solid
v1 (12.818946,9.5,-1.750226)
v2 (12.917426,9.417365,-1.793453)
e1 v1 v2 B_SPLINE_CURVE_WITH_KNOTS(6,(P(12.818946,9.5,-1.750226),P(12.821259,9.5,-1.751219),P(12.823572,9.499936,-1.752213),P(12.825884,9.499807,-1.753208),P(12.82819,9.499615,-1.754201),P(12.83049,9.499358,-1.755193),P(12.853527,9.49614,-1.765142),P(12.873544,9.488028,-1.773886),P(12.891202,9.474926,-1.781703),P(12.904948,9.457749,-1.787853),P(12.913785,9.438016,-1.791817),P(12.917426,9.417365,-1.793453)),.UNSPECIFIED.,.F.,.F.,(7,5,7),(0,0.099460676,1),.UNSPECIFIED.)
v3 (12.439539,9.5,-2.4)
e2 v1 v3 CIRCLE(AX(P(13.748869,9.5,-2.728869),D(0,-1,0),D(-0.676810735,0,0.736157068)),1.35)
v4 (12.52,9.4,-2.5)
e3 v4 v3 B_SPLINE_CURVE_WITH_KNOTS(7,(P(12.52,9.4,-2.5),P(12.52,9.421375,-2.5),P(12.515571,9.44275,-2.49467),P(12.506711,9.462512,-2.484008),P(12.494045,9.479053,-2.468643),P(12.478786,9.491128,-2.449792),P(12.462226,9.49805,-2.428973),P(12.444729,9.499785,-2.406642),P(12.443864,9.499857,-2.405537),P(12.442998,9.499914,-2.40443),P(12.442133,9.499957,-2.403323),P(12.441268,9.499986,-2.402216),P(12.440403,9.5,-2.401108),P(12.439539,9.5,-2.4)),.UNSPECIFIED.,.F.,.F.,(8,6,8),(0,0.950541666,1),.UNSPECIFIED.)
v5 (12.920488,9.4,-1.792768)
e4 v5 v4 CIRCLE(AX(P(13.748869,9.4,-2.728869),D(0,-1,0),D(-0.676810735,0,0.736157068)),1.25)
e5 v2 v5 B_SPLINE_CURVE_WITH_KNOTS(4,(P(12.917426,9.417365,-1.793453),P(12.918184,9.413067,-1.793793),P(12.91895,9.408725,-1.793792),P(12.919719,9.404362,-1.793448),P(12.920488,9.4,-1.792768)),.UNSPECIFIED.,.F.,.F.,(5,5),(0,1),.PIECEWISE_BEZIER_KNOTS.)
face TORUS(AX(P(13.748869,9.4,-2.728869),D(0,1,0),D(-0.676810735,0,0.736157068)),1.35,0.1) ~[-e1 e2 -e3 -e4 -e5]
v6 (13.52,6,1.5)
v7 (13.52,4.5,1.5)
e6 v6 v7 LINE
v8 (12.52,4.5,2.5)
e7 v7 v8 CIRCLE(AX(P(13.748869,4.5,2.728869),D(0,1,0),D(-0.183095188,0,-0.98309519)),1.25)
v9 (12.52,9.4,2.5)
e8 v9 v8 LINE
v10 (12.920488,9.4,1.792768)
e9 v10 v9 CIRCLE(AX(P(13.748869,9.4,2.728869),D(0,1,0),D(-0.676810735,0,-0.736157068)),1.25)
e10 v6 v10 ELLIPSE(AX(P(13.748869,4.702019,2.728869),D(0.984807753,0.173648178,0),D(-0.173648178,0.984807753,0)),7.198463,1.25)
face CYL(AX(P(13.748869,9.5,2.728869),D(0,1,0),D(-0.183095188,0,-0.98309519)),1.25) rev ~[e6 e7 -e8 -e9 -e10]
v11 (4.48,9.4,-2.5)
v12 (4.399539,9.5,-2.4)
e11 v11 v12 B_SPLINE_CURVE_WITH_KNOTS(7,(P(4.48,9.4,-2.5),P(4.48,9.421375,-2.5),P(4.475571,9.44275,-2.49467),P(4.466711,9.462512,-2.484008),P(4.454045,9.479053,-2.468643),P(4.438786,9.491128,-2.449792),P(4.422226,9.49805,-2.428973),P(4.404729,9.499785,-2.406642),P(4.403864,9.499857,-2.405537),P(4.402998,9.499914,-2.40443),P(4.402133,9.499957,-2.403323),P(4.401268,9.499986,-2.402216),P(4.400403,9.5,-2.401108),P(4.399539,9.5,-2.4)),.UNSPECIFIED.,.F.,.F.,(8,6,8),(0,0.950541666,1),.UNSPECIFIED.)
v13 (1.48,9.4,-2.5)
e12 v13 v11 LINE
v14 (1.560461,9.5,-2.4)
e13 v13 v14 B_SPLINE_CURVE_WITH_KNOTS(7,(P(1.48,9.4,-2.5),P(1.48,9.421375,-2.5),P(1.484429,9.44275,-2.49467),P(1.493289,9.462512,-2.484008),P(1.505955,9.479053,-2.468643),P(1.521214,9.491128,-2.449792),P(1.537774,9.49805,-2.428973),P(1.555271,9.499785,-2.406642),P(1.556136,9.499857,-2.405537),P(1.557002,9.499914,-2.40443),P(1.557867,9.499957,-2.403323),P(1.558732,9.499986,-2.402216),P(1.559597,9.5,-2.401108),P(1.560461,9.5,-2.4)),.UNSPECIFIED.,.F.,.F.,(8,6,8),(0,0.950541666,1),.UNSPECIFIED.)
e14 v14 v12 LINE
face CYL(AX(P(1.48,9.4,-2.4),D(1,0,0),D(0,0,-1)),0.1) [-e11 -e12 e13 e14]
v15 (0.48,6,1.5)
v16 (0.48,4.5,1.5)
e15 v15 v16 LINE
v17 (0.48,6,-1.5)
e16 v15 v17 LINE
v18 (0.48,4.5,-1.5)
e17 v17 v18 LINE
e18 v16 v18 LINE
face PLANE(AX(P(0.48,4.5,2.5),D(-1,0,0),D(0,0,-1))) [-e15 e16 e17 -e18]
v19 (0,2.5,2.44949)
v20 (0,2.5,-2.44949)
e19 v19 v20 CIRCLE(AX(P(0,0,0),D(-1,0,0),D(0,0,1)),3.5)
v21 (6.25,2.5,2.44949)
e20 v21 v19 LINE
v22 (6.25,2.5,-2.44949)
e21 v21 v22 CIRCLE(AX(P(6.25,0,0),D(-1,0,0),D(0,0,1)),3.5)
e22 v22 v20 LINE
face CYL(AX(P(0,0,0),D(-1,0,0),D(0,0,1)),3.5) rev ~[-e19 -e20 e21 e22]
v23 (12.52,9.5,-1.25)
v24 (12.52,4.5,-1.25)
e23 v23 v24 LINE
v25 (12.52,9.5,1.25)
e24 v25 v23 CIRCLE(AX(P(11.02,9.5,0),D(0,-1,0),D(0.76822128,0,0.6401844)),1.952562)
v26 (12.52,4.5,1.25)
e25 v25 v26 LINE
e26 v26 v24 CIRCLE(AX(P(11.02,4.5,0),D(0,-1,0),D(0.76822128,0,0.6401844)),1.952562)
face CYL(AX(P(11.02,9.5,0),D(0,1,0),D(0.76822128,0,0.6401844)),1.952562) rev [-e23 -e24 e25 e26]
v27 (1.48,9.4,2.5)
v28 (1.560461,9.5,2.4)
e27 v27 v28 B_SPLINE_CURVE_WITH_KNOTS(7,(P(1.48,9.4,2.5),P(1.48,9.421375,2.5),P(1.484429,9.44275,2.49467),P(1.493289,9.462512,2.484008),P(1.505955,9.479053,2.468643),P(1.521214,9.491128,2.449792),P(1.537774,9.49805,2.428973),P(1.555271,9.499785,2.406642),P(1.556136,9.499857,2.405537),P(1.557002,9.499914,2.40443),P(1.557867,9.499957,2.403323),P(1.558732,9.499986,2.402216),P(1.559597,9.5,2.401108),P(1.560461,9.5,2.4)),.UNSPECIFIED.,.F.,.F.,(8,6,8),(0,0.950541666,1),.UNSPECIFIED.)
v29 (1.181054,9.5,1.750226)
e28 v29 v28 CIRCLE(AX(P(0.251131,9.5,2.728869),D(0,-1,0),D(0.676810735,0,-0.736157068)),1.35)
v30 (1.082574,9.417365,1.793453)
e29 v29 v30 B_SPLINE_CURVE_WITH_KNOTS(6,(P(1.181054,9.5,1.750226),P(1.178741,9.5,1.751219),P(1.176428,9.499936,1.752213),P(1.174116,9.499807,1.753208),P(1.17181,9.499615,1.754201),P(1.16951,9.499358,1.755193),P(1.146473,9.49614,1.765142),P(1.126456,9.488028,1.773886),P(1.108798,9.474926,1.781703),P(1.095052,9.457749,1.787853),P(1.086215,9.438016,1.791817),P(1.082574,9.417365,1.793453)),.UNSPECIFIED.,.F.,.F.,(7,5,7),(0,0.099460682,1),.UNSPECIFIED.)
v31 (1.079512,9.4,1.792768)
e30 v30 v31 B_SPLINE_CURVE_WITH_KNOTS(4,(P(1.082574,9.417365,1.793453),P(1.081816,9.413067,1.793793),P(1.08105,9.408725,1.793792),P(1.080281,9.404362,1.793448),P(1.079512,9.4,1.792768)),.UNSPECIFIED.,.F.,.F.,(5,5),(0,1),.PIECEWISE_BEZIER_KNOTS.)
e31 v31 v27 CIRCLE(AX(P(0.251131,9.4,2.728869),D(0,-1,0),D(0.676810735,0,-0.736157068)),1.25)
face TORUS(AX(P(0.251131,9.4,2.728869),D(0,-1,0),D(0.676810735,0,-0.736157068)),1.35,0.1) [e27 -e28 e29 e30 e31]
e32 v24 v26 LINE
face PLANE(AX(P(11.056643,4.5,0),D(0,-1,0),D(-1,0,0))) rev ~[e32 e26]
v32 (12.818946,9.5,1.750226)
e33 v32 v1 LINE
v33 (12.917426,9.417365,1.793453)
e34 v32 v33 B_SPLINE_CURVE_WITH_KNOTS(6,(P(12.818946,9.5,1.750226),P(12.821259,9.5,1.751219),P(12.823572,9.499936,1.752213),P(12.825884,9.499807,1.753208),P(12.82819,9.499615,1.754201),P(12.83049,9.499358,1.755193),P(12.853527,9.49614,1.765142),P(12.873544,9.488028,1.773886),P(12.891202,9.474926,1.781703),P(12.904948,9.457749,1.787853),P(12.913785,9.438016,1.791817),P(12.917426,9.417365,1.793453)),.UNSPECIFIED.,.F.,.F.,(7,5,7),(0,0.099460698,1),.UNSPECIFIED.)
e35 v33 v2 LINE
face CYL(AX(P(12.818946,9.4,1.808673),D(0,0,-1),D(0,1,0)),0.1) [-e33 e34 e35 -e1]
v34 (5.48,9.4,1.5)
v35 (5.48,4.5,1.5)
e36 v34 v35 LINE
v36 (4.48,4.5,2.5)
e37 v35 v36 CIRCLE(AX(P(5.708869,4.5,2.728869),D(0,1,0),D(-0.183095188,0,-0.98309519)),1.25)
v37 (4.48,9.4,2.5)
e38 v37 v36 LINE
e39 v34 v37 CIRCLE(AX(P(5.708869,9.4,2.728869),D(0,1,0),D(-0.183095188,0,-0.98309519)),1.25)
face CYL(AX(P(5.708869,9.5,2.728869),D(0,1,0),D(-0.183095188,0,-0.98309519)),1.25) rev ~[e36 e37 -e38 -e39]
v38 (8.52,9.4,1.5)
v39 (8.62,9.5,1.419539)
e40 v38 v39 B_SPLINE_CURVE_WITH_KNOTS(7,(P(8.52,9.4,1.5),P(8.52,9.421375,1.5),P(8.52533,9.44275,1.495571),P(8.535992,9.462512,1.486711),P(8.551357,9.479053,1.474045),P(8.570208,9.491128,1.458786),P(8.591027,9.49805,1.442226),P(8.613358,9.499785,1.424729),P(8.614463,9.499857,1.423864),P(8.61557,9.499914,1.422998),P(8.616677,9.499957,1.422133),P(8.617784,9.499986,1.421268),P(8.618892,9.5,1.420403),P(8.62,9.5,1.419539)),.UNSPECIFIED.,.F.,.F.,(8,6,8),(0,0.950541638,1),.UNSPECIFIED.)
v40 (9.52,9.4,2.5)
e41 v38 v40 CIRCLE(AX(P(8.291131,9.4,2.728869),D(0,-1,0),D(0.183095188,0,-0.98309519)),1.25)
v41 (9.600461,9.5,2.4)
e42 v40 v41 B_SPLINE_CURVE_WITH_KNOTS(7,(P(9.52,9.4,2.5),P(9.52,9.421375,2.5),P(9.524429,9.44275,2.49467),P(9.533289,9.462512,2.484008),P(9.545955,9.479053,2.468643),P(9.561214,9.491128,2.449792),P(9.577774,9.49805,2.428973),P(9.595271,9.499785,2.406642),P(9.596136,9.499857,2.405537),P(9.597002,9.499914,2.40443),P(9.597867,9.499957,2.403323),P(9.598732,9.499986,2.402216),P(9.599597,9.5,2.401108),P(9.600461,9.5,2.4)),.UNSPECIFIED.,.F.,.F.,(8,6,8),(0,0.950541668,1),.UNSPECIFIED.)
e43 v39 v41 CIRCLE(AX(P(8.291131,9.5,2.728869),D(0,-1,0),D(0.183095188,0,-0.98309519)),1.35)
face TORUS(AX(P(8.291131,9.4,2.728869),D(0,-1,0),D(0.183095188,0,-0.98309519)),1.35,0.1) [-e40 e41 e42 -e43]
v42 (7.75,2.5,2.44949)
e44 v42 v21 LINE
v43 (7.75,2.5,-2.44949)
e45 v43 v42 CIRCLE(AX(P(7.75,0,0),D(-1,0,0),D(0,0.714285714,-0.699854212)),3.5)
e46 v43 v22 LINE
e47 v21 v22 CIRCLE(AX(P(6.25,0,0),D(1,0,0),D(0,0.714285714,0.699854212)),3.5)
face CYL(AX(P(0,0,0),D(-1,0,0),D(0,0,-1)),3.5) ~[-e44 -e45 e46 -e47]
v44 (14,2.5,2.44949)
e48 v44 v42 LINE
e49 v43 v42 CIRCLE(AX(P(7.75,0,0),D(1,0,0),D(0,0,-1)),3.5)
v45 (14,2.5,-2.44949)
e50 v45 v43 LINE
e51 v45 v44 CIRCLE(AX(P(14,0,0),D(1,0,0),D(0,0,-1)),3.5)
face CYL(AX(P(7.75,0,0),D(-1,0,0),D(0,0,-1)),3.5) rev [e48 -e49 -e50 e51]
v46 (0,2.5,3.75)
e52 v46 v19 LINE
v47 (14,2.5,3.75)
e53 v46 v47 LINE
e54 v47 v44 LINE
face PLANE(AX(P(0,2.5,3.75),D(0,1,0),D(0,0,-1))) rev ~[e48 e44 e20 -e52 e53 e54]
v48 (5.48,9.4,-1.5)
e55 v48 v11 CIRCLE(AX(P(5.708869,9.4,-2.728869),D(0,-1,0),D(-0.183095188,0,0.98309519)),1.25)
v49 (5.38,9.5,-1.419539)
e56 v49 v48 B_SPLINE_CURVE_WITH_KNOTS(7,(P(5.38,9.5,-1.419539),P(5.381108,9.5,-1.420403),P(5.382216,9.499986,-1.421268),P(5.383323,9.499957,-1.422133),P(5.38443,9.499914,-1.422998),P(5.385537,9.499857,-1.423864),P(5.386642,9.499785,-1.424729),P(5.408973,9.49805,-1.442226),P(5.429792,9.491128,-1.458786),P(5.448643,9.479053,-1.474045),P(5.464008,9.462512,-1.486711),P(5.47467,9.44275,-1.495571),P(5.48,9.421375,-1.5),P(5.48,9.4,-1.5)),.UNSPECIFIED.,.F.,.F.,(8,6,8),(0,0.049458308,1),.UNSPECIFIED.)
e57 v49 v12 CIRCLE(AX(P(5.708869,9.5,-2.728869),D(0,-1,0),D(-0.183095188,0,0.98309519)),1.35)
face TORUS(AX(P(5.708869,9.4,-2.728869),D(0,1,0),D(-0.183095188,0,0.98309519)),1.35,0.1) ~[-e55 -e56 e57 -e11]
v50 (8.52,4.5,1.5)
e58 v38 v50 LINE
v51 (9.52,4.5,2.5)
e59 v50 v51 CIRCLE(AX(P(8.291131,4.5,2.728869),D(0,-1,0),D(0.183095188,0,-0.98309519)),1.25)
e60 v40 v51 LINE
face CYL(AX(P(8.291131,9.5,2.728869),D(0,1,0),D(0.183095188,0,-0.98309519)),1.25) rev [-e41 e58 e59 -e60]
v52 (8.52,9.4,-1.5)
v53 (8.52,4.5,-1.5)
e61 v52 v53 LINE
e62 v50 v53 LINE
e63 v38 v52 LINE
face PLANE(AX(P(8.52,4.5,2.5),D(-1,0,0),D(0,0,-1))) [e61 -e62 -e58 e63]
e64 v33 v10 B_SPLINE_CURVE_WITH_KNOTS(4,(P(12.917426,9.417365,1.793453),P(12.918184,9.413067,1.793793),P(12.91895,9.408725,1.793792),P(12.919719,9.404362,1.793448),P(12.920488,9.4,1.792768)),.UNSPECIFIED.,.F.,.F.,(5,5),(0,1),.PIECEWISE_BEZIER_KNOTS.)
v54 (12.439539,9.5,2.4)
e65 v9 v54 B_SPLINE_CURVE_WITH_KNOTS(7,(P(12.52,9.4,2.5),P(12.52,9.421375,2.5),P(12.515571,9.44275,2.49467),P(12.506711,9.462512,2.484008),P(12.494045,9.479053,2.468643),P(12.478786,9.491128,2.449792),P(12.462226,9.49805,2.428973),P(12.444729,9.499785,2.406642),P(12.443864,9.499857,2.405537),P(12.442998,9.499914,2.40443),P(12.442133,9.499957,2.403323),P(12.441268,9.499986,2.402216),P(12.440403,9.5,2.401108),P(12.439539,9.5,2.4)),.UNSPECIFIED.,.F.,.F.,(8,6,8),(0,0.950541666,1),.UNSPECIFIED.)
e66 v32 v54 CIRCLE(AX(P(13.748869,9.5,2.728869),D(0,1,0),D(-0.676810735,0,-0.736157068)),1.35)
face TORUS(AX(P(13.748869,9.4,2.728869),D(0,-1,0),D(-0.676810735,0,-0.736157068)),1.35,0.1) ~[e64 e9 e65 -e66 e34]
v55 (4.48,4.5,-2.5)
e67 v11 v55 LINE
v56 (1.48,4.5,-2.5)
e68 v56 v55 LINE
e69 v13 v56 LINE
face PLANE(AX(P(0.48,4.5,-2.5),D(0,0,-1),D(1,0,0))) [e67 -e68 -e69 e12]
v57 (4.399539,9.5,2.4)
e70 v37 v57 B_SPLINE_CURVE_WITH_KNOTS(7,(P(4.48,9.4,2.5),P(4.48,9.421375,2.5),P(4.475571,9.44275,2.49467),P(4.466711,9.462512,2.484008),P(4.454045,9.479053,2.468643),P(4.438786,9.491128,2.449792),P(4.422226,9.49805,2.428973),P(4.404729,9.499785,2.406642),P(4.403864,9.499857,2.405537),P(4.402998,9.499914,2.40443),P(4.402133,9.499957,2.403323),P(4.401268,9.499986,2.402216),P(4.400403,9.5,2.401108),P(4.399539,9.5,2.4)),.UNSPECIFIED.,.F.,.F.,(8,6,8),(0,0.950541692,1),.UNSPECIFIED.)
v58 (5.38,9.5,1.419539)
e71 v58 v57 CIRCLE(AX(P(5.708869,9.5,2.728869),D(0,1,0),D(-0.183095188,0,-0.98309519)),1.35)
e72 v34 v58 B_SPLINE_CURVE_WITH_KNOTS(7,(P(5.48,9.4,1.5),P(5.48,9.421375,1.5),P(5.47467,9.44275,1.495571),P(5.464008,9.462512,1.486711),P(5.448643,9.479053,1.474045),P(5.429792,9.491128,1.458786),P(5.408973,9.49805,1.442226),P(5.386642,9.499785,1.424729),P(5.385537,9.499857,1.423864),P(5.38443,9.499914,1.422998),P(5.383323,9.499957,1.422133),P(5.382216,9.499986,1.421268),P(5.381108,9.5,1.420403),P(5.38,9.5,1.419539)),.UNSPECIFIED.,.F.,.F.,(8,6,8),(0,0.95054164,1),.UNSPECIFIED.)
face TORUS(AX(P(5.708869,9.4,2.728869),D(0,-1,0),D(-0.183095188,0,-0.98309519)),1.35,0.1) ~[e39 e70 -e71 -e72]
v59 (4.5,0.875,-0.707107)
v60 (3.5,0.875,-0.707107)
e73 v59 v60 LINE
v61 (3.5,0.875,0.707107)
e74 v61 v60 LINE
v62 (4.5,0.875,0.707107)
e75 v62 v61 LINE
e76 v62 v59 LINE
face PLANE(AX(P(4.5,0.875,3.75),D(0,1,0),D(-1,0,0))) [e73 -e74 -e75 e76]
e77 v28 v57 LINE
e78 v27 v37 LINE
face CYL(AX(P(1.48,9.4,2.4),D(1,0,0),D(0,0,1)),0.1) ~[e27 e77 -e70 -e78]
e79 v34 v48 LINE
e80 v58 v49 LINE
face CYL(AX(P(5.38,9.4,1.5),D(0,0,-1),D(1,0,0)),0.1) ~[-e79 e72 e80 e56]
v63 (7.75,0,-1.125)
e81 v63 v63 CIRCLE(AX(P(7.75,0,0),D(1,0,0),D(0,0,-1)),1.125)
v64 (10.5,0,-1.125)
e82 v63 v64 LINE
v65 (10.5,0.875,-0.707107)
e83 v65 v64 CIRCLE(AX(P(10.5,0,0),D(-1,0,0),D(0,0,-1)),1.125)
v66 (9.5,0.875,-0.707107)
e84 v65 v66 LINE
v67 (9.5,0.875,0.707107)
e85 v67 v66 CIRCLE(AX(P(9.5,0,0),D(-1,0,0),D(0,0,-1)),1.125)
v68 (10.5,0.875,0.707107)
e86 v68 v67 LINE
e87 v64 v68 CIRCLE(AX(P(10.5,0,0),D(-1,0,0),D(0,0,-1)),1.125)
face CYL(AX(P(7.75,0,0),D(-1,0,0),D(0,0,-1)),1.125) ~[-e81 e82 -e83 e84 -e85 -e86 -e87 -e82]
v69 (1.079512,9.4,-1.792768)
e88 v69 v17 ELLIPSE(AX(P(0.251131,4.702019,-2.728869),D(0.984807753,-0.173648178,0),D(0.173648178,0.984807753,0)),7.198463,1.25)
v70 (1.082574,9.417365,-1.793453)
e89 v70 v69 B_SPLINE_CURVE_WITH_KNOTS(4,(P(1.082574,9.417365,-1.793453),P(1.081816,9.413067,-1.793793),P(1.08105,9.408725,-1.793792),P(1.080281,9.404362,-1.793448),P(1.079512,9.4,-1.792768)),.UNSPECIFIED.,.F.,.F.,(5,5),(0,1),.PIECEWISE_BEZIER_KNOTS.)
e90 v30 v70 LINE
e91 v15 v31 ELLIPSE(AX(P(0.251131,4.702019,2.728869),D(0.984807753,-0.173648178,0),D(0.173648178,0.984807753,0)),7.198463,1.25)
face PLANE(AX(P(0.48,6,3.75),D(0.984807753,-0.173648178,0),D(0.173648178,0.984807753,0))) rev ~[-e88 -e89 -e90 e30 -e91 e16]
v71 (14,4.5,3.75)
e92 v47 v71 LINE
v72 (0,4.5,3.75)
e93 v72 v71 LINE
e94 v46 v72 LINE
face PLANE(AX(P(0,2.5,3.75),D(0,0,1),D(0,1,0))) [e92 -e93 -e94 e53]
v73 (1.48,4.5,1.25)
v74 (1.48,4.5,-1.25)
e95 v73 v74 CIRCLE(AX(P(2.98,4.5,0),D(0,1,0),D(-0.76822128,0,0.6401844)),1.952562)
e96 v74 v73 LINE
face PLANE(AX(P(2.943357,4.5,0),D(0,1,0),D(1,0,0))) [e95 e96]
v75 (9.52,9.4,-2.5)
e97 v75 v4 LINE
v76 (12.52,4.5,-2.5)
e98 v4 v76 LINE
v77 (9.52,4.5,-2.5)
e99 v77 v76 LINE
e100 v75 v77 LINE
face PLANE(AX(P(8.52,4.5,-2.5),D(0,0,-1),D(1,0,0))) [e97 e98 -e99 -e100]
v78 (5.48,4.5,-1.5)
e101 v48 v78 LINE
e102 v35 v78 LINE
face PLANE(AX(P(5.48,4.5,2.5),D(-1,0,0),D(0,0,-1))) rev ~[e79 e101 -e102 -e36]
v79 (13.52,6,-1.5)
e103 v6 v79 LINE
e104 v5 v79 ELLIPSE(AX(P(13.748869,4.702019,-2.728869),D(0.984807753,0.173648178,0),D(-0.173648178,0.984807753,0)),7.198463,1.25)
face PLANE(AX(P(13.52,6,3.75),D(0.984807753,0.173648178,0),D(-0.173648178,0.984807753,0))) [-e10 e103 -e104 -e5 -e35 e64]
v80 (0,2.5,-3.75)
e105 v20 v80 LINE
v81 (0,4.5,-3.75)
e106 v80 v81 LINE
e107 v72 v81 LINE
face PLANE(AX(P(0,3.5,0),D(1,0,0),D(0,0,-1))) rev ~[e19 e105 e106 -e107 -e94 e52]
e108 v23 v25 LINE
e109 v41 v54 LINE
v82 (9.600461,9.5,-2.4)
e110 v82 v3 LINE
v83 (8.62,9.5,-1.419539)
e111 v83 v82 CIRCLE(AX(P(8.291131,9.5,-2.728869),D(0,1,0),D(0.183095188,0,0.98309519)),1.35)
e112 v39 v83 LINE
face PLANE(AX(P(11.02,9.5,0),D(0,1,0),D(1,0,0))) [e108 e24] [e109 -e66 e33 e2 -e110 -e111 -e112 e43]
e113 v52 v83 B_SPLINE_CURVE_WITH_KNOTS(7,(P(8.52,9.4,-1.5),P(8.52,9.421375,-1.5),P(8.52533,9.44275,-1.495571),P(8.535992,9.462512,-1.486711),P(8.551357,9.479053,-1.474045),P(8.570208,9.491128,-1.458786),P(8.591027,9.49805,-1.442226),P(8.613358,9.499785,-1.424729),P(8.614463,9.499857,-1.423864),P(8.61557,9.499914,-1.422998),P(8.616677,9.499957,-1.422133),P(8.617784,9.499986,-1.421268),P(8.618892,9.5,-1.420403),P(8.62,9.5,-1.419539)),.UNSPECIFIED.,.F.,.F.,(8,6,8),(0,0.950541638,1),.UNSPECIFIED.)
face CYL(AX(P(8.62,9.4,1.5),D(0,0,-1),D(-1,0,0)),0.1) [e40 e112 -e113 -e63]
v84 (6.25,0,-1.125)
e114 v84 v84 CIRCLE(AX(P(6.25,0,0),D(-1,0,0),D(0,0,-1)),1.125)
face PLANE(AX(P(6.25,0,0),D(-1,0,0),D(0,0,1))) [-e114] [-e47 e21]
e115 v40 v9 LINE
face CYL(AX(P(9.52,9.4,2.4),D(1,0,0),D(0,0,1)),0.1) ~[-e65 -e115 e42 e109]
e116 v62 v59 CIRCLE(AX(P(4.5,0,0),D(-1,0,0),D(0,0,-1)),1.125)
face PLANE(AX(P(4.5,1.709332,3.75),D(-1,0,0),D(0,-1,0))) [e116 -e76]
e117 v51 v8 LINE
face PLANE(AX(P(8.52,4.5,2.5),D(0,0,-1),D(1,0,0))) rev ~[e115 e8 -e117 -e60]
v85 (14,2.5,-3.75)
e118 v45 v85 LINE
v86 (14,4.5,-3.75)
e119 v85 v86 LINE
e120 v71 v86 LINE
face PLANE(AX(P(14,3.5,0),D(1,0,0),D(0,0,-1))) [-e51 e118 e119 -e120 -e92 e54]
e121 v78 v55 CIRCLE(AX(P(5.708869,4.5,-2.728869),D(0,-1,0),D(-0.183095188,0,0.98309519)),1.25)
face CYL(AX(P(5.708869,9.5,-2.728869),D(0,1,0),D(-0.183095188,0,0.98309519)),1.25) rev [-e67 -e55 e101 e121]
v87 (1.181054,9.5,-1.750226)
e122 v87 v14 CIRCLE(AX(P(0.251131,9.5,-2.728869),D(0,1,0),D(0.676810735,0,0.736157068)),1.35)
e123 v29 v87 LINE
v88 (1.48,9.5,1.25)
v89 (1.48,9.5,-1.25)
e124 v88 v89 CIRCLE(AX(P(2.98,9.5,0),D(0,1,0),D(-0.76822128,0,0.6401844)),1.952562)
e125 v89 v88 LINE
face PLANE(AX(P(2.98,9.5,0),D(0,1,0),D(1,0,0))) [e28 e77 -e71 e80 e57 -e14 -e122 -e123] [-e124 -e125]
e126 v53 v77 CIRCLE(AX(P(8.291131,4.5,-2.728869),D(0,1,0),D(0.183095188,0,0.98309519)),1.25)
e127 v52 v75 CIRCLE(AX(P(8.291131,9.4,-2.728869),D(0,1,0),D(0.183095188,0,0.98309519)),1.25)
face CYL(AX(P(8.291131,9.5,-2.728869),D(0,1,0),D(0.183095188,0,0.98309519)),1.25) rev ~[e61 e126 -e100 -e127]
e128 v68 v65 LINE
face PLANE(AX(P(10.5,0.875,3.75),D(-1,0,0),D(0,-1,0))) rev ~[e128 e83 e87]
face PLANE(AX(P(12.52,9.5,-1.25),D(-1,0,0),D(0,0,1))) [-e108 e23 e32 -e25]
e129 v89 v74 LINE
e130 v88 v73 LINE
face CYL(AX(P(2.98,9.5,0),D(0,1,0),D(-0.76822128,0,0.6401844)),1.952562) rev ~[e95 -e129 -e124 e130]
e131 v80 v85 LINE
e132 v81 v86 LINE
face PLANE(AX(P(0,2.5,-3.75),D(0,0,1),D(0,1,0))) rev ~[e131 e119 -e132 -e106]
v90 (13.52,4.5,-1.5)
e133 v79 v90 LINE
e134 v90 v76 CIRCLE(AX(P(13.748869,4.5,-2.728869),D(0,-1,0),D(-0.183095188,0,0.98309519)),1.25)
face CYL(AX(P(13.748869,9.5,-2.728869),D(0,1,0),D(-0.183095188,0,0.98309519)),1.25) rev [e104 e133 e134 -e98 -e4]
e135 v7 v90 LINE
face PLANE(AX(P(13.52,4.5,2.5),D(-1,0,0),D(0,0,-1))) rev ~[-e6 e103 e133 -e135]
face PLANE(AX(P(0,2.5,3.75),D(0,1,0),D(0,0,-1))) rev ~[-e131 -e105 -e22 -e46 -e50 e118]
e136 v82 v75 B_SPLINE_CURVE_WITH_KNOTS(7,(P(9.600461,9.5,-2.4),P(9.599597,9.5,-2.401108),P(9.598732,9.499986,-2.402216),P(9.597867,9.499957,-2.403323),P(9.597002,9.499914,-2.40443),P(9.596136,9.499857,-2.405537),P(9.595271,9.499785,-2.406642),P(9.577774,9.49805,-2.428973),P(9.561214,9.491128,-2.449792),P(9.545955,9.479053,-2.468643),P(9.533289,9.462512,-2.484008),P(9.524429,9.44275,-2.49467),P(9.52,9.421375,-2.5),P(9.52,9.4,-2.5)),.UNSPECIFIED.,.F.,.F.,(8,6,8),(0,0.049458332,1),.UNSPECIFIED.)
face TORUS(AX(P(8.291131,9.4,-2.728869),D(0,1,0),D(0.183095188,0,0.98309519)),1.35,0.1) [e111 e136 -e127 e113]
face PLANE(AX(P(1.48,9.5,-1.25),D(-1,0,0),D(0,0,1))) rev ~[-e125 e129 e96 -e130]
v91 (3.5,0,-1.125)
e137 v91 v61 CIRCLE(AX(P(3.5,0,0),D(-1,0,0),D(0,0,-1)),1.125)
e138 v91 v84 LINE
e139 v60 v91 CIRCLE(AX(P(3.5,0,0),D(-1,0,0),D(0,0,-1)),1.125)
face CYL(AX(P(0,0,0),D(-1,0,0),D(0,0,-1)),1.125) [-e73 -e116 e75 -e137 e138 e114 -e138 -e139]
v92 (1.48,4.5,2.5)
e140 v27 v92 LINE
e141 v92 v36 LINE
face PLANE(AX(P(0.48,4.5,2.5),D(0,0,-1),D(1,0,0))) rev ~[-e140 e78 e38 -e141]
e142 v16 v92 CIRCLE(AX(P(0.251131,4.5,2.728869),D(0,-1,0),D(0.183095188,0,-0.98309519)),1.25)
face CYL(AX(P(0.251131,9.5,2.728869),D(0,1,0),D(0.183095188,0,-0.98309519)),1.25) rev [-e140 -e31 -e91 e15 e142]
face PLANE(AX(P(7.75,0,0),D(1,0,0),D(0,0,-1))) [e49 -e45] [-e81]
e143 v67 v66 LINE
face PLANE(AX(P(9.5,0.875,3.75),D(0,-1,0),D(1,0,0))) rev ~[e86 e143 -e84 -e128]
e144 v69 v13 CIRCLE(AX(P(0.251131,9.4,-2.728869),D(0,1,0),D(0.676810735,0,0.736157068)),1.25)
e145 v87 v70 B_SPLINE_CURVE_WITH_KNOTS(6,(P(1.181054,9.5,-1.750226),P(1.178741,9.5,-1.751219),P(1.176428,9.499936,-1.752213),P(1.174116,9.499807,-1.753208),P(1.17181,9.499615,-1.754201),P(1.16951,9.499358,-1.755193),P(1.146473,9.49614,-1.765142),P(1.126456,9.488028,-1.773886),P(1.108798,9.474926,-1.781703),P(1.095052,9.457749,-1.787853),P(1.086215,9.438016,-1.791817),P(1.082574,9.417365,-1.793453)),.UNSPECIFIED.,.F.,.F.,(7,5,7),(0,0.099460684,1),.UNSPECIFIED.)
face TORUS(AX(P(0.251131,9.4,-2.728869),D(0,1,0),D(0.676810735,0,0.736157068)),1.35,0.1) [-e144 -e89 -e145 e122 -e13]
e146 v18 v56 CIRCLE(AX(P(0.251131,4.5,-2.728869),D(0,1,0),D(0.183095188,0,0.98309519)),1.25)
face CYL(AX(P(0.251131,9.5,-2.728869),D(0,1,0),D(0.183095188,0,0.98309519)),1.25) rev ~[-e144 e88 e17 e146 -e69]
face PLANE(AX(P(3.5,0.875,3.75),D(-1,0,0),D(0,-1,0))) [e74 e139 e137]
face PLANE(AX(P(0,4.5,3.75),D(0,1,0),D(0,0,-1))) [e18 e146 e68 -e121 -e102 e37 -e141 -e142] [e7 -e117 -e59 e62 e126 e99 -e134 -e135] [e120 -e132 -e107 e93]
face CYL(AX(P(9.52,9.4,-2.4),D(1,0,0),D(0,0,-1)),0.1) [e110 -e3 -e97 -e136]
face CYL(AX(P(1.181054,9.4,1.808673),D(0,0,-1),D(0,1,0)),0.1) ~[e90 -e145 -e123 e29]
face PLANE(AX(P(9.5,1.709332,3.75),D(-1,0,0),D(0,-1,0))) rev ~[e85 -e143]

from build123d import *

# Parameters (mm, degrees)
SKETCH1_R           = 3.5
BOSS_EXTRUDE1_DEPTH = 14
SKETCH2_W           = 7.5
SKETCH2_H           = 2
BOSS_EXTRUDE2_DEPTH = 14
CUT_EXTRUDE1_START  = -6.25
SKETCH4_R           = 3.5
SKETCH4_R_2         = 1.125
CUT_EXTRUDE1_DEPTH  = 6.25
SKETCH5_R           = 3.5
SKETCH5_R_2         = 1.125
CUT_EXTRUDE2_DEPTH  = 6.25
CUT_EXTRUDE3_DEPTH  = 17.507574019
SKETCH7_W           = 5
SKETCH7_H           = 5
BOSS_EXTRUDE3_DEPTH = 5
CUT_EXTRUDE4_DEPTH  = 19.506755523
CUT_EXTRUDE5_DEPTH  = 5
FILLET1_R           = 0.1
CUT_EXTRUDE6_DEPTH  = 5


with BuildPart() as part:
    # Sketch1 → Boss-Extrude1 (new body)
    with BuildSketch(Plane(origin=(0, 0, 0), x_dir=(0, 0, -1), z_dir=(1, 0, 0))):
        Circle(SKETCH1_R)
    extrude(amount=BOSS_EXTRUDE1_DEPTH)

    # Sketch2 → Boss-Extrude2 (add)
    with BuildSketch(Plane(origin=(0, 0, 0), x_dir=(0, 0, -1), z_dir=(1, 0, 0))):
        with Locations((0, 3.5)):
            Rectangle(SKETCH2_W, SKETCH2_H)
    extrude(amount=BOSS_EXTRUDE2_DEPTH)

    # Sketch4 → Cut-Extrude1 (cut)
    with BuildSketch(Plane(origin=(14, 0, 0), x_dir=(0, 0, -1), z_dir=(1, 0, 0)).offset(CUT_EXTRUDE1_START)):
        Circle(SKETCH4_R)
        Circle(SKETCH4_R_2, mode=Mode.SUBTRACT)
    extrude(amount=CUT_EXTRUDE1_DEPTH, mode=Mode.SUBTRACT)

    # Sketch5 → Cut-Extrude2 (cut)
    with BuildSketch(Plane.ZY):
        Circle(SKETCH5_R)
        with Locations(Location((0, 0, 0), (0, 0, 180))):
            Circle(SKETCH5_R_2, mode=Mode.SUBTRACT)
    extrude(amount=-CUT_EXTRUDE2_DEPTH, mode=Mode.SUBTRACT)

    # Sketch6 → Cut-Extrude3 (cut, through all)
    with BuildSketch(Plane.XY.offset(3.75)):
        Polygon((0, -1.495013081), (0, 1.709332254), (4.5, 1.709332254), (4.5, 0.875), (3.5, 0.875), (3.5, -1.495013081), align=None)
        Polygon((10.5, 0.875), (10.5, -1.495013081), (14, -1.495013081), (14, 1.709332254), (9.5, 1.709332254), (9.5, 0.875), align=None)
    extrude(amount=-CUT_EXTRUDE3_DEPTH, mode=Mode.SUBTRACT)

    # Sketch7 → Boss-Extrude3 (add)
    with BuildSketch(Plane(origin=(0, 4.5, 0), x_dir=(1, 0, 0), z_dir=(0, 1, 0))):
        with Locations((2.98, 0)):
            Rectangle(SKETCH7_W, SKETCH7_H)
        with Locations((11.02, 0)):
            Rectangle(SKETCH7_W, SKETCH7_H)
    extrude(amount=BOSS_EXTRUDE3_DEPTH)

    # Sketch8 → Cut-Extrude4 (cut, through all)
    with BuildSketch(Plane.XY.offset(3.75)):
        Polygon((2.157769387, 15.515103022), (0.48, 15.515103022), (0.48, 6), align=None)
        Polygon((13.52, 6), (11.842230613, 15.515103022), (13.52, 15.515103022), align=None)
    extrude(amount=-CUT_EXTRUDE4_DEPTH, mode=Mode.SUBTRACT)

    # Sketch9 → Cut-Extrude5 (cut)
    with BuildSketch(Plane(origin=(0, 9.5, 0), x_dir=(1, 0, 0), z_dir=(0, 1, 0))):
        with BuildLine():
            Line((4.48, 2.5), (5.48, 2.5))
            Line((5.48, 2.5), (5.48, 1.5))
            ThreePointArc((5.48, 1.5), (4.82498551, 1.84498551), (4.48, 2.5))
        make_face()
        with BuildLine():
            Line((0.48, 2.5), (0.48, 1.5))
            ThreePointArc((0.48, 1.5), (1.13501449, 1.84498551), (1.48, 2.5))
            Line((1.48, 2.5), (0.48, 2.5))
        make_face()
        with BuildLine():
            Line((5.48, -2.5), (5.48, -1.5))
            ThreePointArc((5.48, -1.5), (4.82498551, -1.84498551), (4.48, -2.5))
            Line((4.48, -2.5), (5.48, -2.5))
        make_face()
        with BuildLine():
            Line((0.48, -2.5), (0.48, -1.5))
            ThreePointArc((0.48, -1.5), (1.13501449, -1.84498551), (1.48, -2.5))
            Line((1.48, -2.5), (0.48, -2.5))
        make_face()
        with BuildLine():
            Line((8.52, -2.5), (8.52, -1.5))
            ThreePointArc((8.52, -1.5), (9.17501449, -1.84498551), (9.52, -2.5))
            Line((9.52, -2.5), (8.52, -2.5))
        make_face()
        with BuildLine():
            Line((12.52, -2.5), (13.52, -2.5))
            Line((13.52, -2.5), (13.52, -1.5))
            ThreePointArc((13.52, -1.5), (12.86498551, -1.84498551), (12.52, -2.5))
        make_face()
        with BuildLine():
            Line((13.52, 2.5), (13.52, 1.5))
            ThreePointArc((13.52, 1.5), (12.86498551, 1.84498551), (12.52, 2.5))
            Line((12.52, 2.5), (13.52, 2.5))
        make_face()
        with BuildLine():
            Line((8.52, 2.5), (8.52, 1.5))
            ThreePointArc((8.52, 1.5), (9.17501449, 1.84498551), (9.52, 2.5))
            Line((9.52, 2.5), (8.52, 2.5))
        make_face()
    extrude(amount=-CUT_EXTRUDE5_DEPTH, mode=Mode.SUBTRACT)

    # Fillet1
    fillet1_edges = [part.edges().sort_by_distance(p)[0] for p in [
        (1.097144432, 9.5, 0),
        (2.98, 9.5, -2.5),
        (4.82498551, 9.5, -1.84498551),
        (5.48, 9.5, 0),
        (4.82498551, 9.5, 1.84498551),
        (2.98, 9.5, 2.5),
        (8.52, 9.5, 0),
        (9.17501449, 9.5, -1.84498551),
        (11.02, 9.5, -2.5),
        (12.902855568, 9.5, 0),
        (11.02, 9.5, 2.5),
        (9.17501449, 9.5, 1.84498551),
        (1.344642616, 9.5, -2.123284662),
        (1.344642616, 9.5, 2.123284662),
        (12.655357384, 9.5, -2.123284662),
        (12.655357384, 9.5, 2.123284662),
    ]]
    fillet(fillet1_edges, radius=FILLET1_R)

    # Sketch10 → Cut-Extrude6 (cut)
    with BuildSketch(Plane(origin=(0, 9.5, 0), x_dir=(1, 0, 0), z_dir=(0, 1, 0))):
        with BuildLine():
            Line((1.48, 1.25), (1.48, -1.25))
            ThreePointArc((1.48, -1.25), (4.932562419, 0), (1.48, 1.25))
        make_face()
        with BuildLine():
            Line((12.52, 1.25), (12.52, -1.25))
            ThreePointArc((12.52, -1.25), (9.067437581, 0), (12.52, 1.25))
        make_face()
    extrude(amount=-CUT_EXTRUDE6_DEPTH, mode=Mode.SUBTRACT)


solid = part.part
